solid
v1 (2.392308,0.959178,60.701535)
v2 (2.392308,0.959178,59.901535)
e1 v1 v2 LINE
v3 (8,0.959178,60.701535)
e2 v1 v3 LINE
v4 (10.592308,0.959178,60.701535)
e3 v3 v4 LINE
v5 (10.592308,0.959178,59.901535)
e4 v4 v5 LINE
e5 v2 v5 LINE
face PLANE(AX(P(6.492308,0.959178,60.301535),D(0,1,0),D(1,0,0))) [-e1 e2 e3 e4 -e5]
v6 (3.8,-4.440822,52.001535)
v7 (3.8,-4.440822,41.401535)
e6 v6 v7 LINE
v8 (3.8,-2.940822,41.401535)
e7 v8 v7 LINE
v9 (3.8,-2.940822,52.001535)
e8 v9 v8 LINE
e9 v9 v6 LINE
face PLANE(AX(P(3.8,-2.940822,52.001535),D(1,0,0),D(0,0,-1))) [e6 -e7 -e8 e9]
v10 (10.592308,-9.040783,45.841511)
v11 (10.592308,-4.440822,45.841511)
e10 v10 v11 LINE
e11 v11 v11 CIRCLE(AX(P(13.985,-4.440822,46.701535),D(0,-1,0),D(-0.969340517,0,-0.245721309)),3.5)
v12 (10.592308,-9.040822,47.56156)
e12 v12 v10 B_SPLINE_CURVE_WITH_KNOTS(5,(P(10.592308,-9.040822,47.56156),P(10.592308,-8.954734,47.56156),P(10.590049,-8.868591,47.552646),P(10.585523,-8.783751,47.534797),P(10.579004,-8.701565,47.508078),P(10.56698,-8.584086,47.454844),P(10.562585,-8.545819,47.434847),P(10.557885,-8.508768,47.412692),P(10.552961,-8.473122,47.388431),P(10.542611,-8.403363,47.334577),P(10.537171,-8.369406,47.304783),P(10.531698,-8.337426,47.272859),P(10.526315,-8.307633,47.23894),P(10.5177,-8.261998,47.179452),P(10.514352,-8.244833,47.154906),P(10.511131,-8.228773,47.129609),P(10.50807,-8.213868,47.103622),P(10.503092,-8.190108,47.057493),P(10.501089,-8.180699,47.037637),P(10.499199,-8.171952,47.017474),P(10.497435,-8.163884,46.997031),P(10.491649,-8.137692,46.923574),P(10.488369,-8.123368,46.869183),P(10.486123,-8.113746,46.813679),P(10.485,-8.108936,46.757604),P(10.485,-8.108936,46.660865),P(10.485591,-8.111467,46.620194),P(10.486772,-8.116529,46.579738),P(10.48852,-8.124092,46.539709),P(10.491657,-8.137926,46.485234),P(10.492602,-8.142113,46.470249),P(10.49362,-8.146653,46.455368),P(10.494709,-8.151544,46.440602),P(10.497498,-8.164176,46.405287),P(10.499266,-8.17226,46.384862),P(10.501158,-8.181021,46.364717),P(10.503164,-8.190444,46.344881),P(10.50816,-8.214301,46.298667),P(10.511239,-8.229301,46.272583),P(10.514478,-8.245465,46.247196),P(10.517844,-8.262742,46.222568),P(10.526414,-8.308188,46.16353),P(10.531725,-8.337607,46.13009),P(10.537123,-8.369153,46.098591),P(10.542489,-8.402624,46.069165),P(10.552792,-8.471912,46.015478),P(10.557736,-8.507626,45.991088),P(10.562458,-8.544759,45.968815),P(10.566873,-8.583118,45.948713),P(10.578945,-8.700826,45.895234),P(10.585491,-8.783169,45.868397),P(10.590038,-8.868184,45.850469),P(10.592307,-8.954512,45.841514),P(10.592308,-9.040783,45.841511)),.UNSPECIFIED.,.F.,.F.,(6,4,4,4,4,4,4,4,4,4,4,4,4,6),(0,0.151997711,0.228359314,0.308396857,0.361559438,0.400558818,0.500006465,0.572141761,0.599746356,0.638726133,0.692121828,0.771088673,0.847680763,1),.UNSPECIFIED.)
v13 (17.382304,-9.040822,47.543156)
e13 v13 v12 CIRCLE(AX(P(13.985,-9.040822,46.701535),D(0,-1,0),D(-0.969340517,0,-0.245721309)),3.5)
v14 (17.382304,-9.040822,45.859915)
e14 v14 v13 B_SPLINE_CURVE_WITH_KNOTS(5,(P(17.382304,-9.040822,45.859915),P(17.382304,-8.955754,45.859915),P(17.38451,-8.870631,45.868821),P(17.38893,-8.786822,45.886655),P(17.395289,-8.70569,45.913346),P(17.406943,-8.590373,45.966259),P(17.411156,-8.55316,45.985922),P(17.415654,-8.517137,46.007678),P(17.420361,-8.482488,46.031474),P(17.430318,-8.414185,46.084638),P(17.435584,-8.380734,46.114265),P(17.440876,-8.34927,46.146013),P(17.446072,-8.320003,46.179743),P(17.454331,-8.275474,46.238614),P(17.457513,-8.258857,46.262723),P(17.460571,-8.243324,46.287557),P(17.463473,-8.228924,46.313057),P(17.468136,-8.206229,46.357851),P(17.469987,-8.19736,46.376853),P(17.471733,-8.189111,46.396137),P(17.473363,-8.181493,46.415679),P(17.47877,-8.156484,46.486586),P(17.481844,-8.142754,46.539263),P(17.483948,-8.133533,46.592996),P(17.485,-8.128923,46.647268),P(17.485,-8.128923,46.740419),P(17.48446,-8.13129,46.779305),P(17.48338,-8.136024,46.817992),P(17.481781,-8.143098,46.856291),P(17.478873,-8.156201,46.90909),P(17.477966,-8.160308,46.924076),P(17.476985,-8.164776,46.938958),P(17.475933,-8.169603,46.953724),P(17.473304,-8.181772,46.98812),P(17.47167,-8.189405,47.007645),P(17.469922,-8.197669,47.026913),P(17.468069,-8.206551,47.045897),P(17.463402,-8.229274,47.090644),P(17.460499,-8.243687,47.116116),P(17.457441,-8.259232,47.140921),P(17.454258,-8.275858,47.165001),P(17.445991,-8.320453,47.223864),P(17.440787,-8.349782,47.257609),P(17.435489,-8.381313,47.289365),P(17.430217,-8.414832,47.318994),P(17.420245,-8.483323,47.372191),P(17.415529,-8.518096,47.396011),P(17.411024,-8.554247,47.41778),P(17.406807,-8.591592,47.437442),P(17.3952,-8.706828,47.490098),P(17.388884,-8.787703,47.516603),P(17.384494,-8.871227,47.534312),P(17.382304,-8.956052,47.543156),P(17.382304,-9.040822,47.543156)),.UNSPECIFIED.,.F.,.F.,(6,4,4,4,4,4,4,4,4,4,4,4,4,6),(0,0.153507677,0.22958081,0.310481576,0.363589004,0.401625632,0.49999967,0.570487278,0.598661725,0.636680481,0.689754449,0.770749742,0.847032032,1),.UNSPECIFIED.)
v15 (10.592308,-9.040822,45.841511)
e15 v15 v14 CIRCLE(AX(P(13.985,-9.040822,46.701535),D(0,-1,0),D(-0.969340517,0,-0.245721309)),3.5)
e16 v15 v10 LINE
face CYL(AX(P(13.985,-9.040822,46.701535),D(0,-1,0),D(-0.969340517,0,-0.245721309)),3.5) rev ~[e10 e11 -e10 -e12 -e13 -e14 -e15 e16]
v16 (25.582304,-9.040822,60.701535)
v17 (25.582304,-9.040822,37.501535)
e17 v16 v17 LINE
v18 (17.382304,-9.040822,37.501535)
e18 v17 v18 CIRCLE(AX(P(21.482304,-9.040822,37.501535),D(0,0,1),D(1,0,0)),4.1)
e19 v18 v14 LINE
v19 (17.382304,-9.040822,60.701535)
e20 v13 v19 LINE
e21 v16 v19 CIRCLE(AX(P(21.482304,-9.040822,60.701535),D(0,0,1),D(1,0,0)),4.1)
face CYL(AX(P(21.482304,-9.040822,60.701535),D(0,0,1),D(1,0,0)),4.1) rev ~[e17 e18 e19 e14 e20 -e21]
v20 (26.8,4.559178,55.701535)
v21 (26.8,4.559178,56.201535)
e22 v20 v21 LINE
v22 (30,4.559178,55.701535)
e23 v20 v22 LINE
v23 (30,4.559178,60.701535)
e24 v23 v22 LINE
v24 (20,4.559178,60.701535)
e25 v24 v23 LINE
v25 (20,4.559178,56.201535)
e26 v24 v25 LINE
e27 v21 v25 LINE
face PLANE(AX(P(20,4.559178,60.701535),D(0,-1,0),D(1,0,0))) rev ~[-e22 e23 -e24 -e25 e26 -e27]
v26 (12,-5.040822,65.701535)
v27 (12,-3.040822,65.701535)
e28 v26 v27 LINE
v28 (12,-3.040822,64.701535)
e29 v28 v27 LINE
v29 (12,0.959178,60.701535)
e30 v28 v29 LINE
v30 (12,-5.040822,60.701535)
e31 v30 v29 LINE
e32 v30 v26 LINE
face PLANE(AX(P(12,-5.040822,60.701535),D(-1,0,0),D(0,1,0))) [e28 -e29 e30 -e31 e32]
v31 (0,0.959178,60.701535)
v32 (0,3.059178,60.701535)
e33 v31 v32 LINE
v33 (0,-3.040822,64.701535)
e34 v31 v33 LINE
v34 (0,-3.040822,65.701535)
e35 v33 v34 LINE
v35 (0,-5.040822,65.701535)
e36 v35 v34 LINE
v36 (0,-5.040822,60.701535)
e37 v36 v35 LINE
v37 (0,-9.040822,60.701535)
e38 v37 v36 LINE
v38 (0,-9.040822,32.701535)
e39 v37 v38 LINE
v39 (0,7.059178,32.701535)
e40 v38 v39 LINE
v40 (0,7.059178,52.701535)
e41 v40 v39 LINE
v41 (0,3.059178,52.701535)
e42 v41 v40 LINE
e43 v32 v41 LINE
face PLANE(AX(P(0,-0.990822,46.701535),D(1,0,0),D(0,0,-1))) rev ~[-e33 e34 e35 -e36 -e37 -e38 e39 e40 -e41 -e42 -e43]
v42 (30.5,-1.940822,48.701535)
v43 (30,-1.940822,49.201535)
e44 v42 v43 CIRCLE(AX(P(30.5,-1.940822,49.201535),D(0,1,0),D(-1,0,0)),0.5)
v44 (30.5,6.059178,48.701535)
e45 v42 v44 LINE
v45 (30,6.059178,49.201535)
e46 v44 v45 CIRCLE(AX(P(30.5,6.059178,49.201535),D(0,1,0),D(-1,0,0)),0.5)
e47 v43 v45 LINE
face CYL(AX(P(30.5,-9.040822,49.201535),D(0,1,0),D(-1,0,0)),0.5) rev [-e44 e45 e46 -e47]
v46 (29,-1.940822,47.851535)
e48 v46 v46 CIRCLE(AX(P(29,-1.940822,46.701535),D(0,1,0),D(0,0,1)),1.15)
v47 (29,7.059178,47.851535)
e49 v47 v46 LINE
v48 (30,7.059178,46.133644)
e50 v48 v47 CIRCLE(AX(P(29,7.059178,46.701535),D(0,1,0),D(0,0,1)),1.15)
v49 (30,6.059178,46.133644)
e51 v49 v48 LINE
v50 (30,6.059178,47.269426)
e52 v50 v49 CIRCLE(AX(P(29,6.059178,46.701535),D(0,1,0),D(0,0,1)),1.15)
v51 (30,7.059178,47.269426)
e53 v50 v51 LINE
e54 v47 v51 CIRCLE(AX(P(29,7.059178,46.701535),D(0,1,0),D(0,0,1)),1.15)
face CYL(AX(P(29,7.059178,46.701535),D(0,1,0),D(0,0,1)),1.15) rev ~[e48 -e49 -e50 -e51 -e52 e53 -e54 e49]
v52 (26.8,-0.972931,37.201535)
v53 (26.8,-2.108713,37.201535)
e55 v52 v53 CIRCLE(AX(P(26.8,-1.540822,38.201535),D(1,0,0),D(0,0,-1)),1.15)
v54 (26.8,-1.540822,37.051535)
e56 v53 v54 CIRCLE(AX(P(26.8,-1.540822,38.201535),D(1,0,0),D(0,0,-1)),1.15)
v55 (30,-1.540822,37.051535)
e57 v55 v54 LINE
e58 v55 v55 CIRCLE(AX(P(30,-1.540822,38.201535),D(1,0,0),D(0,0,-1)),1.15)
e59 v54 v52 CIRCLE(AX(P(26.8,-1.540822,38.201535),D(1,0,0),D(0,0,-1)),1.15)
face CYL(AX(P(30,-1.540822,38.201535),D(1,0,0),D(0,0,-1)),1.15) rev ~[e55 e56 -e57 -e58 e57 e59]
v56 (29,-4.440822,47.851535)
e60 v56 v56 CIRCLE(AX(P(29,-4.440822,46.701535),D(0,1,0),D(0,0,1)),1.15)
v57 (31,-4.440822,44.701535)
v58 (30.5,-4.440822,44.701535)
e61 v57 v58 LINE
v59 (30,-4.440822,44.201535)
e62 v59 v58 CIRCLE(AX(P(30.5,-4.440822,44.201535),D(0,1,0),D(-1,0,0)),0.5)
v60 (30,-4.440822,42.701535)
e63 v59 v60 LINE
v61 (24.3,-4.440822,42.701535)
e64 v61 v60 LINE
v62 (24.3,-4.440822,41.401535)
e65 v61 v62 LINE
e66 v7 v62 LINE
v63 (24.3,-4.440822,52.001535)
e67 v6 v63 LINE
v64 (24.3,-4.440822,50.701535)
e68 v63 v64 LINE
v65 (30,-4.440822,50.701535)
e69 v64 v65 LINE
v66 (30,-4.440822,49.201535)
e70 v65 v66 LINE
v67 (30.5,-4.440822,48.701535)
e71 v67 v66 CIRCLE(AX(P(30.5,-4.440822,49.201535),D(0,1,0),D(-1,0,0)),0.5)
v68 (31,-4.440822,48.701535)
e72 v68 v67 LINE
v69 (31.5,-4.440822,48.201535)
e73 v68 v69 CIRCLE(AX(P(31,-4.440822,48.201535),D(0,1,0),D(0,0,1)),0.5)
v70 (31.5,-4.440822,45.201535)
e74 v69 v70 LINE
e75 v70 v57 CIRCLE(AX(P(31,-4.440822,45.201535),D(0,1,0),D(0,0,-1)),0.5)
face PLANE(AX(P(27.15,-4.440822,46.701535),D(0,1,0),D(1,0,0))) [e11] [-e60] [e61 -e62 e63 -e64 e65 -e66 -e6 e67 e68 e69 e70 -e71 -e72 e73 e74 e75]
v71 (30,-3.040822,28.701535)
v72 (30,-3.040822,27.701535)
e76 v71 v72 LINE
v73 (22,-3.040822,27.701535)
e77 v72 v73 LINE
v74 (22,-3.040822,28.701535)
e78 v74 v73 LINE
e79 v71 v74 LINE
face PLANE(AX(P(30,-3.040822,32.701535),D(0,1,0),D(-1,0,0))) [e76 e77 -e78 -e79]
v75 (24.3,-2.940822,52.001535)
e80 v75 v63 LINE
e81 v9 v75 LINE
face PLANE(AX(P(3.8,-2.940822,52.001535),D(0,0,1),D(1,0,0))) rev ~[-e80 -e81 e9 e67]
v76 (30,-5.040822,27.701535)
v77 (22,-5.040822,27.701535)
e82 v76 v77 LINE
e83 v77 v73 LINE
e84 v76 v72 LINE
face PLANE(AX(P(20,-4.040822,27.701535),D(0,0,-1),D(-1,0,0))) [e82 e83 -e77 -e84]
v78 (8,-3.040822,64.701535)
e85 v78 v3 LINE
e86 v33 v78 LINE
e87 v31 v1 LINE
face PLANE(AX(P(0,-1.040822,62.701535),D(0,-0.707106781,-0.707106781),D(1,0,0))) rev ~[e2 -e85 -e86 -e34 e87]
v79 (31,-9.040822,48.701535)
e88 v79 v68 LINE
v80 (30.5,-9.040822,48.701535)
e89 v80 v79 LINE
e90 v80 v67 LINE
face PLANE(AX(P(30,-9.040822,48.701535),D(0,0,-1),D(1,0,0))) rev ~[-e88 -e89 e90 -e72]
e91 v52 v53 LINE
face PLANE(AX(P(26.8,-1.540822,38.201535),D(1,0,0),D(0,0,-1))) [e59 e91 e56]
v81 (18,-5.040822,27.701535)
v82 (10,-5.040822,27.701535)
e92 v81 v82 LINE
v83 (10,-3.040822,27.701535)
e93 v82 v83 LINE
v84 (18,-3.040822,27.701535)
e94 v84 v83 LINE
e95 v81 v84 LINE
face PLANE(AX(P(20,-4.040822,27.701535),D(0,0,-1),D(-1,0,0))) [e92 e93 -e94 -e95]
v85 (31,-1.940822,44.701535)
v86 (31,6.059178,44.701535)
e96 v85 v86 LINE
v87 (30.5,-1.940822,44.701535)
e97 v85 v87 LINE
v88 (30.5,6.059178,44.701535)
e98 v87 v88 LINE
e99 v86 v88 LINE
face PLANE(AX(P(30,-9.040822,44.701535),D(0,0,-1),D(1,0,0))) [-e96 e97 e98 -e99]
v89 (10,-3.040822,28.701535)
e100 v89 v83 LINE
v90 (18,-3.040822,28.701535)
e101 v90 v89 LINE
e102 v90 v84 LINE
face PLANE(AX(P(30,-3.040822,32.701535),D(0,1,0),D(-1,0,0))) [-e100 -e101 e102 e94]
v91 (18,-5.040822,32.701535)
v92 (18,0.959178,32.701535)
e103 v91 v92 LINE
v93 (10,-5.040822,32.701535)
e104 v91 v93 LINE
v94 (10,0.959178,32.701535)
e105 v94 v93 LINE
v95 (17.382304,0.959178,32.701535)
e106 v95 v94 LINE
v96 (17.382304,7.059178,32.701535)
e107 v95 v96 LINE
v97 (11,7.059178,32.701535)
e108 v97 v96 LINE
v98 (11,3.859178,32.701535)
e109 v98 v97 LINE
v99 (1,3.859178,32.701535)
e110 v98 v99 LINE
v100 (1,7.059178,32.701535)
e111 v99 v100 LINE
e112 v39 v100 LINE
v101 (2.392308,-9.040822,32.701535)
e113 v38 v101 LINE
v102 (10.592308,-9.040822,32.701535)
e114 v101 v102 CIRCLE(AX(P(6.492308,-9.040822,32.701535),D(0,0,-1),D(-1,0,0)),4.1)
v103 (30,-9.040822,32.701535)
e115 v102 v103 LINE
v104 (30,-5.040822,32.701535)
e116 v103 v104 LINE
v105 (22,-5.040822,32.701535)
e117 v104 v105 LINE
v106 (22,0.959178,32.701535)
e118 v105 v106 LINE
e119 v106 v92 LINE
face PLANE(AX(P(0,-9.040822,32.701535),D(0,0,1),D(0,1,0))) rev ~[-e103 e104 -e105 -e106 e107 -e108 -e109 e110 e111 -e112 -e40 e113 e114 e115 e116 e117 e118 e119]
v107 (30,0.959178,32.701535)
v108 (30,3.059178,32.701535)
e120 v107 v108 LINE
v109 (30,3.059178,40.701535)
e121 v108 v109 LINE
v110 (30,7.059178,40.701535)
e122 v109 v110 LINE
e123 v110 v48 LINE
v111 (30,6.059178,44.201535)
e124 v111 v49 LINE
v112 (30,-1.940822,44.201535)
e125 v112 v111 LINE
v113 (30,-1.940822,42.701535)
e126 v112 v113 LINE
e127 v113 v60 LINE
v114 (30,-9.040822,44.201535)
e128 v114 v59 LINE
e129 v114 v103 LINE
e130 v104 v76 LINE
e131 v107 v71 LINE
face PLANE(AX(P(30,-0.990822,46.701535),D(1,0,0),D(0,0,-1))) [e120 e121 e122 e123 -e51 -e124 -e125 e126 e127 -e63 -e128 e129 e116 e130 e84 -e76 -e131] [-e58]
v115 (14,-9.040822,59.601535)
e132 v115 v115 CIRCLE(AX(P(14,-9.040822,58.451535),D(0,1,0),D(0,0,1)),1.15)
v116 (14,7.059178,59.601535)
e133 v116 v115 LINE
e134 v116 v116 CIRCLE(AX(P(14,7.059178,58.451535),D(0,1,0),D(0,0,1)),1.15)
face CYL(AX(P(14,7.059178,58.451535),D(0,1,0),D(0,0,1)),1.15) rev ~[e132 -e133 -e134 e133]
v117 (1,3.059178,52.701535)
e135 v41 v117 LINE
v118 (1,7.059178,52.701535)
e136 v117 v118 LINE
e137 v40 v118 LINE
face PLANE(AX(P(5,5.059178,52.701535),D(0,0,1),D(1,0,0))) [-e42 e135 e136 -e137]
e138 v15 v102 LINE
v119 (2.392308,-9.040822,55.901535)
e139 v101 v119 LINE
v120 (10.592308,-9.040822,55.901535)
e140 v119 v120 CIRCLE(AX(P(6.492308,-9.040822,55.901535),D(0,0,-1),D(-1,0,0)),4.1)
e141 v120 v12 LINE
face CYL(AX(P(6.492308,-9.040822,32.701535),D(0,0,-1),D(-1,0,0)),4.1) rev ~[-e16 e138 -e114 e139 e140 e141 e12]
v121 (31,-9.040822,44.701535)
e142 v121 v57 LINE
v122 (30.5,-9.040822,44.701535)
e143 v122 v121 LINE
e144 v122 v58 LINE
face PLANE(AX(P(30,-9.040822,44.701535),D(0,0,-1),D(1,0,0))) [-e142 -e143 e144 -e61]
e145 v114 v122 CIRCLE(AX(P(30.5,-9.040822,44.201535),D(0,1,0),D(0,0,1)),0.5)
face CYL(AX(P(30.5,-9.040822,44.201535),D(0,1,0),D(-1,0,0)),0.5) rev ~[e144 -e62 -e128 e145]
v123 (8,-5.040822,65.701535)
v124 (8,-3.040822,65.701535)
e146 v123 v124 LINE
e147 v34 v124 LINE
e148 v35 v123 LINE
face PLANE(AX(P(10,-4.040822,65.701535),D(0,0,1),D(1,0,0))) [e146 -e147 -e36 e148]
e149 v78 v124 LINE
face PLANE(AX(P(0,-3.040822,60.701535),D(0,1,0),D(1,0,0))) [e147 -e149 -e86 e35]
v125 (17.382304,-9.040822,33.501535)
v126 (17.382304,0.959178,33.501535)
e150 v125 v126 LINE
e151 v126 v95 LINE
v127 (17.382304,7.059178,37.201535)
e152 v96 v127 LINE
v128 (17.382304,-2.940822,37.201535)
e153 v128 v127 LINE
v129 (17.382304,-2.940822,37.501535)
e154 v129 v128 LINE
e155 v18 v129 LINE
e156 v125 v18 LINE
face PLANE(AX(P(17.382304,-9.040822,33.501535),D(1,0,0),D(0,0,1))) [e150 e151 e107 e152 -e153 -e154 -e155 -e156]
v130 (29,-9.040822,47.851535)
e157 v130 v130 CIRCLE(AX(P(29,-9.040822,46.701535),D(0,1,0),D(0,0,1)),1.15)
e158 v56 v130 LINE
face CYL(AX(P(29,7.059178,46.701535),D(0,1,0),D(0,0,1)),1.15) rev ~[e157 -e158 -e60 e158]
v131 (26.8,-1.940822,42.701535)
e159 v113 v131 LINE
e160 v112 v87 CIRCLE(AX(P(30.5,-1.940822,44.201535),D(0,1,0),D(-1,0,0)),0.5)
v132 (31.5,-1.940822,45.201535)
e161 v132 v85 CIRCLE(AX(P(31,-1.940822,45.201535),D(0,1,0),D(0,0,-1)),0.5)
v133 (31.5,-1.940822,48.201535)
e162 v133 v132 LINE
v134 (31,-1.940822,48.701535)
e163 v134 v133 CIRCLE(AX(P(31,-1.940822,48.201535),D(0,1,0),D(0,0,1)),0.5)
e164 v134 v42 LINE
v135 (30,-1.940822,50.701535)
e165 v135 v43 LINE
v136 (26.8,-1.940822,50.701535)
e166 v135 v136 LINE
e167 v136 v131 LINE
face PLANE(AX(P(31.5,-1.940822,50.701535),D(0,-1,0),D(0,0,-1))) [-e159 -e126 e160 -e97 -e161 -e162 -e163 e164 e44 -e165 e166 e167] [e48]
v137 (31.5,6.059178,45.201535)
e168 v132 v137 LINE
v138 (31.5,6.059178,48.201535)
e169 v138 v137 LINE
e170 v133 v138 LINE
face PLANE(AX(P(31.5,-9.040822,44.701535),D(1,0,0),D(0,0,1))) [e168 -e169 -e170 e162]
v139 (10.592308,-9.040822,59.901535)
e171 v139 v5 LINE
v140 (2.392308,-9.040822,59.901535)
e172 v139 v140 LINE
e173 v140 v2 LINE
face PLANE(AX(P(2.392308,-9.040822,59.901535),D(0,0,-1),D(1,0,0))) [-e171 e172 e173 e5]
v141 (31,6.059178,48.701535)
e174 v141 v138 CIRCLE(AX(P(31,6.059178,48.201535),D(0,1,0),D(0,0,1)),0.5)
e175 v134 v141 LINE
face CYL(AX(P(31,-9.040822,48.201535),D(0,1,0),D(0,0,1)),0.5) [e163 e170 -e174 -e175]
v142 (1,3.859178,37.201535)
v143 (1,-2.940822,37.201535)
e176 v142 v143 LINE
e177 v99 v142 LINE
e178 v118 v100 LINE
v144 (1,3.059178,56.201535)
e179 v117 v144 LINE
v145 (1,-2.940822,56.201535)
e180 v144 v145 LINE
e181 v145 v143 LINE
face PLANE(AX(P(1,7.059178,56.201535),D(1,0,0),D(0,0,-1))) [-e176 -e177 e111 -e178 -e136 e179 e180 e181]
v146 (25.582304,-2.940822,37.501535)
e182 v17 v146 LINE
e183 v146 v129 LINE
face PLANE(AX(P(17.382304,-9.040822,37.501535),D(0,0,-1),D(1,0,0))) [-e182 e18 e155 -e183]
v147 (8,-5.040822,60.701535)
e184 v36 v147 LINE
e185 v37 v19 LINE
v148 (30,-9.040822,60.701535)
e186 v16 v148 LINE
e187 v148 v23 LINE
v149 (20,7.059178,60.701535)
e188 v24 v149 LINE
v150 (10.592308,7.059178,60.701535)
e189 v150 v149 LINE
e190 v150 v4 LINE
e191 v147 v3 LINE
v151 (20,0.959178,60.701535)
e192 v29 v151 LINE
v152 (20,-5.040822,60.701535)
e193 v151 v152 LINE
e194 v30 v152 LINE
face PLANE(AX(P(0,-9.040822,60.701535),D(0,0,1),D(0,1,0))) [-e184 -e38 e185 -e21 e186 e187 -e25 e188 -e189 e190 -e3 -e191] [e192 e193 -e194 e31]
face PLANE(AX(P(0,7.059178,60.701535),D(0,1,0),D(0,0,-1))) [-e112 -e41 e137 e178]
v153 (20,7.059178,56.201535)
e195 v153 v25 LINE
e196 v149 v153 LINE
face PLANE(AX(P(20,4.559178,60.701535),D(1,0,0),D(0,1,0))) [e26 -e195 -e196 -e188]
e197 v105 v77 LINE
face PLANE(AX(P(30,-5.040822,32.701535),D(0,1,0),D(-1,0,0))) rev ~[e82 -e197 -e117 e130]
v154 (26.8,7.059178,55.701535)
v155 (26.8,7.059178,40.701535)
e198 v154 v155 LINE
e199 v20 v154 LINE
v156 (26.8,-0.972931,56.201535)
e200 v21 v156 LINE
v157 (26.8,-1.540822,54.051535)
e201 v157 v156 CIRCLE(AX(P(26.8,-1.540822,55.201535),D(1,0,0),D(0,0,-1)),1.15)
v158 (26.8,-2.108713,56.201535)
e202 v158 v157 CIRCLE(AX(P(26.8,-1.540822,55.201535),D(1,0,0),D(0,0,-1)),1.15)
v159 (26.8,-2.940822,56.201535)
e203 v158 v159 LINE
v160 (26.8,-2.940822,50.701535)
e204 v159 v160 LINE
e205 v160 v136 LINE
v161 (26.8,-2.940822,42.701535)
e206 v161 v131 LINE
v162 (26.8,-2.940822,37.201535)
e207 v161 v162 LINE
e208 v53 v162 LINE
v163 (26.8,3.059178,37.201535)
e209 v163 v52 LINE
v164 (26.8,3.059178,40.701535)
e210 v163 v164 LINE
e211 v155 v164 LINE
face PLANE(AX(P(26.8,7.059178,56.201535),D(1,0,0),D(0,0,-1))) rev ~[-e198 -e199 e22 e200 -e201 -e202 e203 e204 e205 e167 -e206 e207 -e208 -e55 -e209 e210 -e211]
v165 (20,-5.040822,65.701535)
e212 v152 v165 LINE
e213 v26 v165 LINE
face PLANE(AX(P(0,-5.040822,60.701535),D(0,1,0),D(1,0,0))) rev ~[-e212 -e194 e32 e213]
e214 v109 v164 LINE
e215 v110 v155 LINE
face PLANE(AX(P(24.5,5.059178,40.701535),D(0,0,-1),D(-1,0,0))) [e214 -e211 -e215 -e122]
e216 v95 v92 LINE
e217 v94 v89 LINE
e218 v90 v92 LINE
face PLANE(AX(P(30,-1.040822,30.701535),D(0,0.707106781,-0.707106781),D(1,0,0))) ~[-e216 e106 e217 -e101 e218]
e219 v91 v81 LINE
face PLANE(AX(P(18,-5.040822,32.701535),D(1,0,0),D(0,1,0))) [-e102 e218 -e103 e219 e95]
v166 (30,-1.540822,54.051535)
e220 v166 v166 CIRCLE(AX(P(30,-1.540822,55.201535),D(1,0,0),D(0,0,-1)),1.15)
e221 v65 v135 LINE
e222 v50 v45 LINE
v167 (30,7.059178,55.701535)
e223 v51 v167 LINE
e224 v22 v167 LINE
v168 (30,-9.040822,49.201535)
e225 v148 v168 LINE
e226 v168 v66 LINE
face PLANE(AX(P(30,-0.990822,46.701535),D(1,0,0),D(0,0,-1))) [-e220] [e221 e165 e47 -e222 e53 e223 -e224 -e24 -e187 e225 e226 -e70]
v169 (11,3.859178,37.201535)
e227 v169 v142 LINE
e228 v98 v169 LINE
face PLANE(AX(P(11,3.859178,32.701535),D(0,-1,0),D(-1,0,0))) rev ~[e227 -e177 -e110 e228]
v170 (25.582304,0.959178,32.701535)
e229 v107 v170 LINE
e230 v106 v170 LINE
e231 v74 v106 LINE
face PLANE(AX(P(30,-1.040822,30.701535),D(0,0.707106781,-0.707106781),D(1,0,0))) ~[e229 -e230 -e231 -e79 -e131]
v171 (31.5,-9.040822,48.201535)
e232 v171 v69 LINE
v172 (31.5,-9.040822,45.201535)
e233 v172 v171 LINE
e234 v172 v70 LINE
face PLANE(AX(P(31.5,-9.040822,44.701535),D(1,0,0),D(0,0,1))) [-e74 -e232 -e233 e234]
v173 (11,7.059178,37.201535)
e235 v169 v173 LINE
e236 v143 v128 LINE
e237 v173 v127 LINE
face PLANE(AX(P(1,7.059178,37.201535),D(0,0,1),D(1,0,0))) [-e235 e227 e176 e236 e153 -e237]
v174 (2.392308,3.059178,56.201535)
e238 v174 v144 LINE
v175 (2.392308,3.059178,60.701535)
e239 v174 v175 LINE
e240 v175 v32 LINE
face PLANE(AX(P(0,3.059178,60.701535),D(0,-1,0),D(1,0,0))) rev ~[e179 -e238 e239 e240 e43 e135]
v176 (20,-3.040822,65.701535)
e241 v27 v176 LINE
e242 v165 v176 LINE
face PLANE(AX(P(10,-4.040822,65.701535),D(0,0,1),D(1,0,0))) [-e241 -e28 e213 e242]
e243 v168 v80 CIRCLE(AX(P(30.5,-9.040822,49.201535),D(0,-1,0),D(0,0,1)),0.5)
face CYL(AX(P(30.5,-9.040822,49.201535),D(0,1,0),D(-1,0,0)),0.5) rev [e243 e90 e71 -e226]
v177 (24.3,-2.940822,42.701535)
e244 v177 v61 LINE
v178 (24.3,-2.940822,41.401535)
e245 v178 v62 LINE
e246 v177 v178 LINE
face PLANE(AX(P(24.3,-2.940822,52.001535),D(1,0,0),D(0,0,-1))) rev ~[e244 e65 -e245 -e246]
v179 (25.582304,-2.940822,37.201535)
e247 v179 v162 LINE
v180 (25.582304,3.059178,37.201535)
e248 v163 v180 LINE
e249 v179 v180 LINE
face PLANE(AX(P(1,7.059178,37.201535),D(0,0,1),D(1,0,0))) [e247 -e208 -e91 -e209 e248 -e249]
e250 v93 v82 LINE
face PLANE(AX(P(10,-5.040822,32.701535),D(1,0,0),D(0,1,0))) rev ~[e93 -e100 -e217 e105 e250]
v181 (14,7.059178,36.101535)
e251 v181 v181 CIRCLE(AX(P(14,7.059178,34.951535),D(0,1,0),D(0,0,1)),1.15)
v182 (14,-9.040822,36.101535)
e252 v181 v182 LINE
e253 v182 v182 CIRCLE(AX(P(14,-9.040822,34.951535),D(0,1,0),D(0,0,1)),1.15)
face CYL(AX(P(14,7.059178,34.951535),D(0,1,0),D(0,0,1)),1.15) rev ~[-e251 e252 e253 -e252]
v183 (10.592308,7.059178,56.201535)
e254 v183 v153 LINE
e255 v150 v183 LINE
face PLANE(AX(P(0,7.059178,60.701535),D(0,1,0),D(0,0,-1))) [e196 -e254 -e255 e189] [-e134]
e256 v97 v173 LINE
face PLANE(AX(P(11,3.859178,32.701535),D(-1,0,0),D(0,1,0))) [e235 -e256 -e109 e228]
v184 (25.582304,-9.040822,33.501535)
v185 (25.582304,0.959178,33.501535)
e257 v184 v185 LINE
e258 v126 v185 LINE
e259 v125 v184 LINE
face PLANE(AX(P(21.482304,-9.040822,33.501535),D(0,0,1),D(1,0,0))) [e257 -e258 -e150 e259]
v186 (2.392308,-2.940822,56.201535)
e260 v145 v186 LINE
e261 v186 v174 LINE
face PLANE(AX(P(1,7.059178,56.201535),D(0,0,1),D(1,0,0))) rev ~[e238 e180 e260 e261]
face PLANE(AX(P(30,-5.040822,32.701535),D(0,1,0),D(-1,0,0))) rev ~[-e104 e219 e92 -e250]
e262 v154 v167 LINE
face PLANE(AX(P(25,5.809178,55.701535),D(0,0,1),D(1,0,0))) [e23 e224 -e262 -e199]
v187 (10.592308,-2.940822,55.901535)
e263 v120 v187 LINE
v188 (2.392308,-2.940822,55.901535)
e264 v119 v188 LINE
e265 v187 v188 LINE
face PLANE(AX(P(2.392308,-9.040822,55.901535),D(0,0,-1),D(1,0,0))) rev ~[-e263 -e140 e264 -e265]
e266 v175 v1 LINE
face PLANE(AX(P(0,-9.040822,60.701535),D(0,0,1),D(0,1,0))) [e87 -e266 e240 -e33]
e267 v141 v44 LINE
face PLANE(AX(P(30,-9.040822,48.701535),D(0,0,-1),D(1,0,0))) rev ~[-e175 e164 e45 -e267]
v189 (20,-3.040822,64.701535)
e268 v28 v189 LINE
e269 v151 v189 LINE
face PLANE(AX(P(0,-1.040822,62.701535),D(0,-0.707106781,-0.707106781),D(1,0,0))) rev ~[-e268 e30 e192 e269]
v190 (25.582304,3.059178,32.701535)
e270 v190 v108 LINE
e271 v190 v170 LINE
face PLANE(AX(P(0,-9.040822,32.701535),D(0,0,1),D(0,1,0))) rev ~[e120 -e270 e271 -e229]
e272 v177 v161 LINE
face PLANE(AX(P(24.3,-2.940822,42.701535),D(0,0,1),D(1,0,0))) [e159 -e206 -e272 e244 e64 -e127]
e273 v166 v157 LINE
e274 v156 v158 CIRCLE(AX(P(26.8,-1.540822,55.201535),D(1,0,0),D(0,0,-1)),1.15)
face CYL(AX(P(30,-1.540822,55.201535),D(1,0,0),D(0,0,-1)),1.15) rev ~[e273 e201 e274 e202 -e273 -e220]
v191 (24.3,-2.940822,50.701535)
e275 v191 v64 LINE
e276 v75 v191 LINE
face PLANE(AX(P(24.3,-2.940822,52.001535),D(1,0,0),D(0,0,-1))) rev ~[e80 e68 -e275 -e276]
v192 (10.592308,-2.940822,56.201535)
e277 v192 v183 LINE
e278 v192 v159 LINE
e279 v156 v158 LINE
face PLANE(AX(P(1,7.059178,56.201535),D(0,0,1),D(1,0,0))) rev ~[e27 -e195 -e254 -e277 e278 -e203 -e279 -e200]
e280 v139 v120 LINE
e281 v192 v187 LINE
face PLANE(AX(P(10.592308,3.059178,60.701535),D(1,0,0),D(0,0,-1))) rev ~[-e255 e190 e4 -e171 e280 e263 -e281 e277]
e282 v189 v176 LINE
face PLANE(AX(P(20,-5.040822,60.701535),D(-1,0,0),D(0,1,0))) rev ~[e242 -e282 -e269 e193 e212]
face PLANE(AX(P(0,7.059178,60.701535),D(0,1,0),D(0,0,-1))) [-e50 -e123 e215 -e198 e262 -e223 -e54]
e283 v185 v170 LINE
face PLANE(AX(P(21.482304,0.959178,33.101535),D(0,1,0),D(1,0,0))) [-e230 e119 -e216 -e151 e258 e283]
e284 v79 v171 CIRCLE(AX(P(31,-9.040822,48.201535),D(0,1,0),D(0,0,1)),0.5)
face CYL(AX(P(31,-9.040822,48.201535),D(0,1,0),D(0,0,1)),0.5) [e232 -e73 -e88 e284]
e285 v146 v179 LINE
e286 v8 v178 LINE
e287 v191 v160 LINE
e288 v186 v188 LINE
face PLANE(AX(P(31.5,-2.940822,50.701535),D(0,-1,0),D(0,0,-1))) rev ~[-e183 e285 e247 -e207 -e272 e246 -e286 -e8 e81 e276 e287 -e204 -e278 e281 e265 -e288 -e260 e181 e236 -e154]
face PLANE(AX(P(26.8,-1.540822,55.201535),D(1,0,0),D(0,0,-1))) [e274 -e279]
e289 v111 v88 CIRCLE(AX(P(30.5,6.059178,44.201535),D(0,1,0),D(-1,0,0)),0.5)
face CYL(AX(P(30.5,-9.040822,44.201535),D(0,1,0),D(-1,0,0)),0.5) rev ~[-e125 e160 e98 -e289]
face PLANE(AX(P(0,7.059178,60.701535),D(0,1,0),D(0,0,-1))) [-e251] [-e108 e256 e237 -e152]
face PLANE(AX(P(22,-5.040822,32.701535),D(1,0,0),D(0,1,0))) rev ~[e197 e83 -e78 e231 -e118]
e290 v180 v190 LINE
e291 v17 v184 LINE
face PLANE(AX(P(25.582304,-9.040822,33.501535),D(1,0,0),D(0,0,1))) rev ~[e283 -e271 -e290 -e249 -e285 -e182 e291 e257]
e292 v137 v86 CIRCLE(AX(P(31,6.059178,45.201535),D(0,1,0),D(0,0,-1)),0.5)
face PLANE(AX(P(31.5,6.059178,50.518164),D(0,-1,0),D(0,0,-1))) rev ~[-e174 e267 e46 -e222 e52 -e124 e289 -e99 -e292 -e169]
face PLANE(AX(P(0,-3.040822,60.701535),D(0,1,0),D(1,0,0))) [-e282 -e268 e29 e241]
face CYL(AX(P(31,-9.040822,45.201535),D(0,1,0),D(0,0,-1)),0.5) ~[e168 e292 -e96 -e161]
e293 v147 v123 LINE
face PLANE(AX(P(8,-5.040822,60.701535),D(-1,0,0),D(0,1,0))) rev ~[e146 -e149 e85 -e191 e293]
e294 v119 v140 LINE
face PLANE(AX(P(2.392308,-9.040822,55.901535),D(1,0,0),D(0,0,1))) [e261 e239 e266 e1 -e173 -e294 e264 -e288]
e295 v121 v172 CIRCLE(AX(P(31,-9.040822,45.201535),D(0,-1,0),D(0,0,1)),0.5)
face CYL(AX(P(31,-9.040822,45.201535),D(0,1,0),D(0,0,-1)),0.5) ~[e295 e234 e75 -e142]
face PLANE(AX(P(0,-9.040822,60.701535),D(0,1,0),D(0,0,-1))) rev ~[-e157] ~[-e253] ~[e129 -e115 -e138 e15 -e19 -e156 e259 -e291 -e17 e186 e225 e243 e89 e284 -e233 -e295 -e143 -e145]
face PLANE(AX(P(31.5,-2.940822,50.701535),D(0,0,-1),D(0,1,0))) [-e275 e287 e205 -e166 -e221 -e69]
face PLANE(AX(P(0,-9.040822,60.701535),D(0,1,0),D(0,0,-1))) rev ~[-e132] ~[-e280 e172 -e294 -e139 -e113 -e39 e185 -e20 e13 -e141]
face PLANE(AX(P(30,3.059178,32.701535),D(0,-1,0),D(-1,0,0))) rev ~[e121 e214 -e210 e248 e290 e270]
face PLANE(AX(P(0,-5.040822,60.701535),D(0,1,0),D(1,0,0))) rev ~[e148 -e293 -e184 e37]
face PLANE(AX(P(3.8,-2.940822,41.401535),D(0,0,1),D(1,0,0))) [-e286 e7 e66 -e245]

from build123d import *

# Parameters (mm, degrees)
SKETCH1_W           = 28
SKETCH1_H           = 16.1
BOSS_EXTRUDE1_DEPTH = 30
SKETCH2_W           = 10
SKETCH2_H           = 2.5
CUT_EXTRUDE1_DEPTH  = 5
SKETCH3_W           = 10
SKETCH3_H           = 4
CUT_EXTRUDE2_DEPTH  = 8
SKETCH4_W           = 10
SKETCH4_H           = 3.2
CUT_EXTRUDE3_DEPTH  = 8
SKETCH5_W           = 11
SKETCH5_H           = 4
CUT_EXTRUDE4_DEPTH  = 8
SKETCH6_W           = 20
SKETCH6_H           = 2
BOSS_EXTRUDE2_DEPTH = 5
CHAMFER1_SIZE       = 4
SKETCH7_W           = 20
SKETCH7_H           = 2
BOSS_EXTRUDE3_DEPTH = 5
CHAMFER2_SIZE       = 4
SKETCH9_W           = 25.8
SKETCH9_H           = 19
CUT_EXTRUDE6_DEPTH  = 10
SKETCH13_R          = 4.1
CUT_EXTRUDE10_DEPTH = 27.2
SKETCH14_R          = 4.1
CUT_EXTRUDE11_DEPTH = 27.2
SKETCH15_W          = 8.2
SKETCH15_H          = 4
CUT_EXTRUDE12_DEPTH = 27.2
SKETCH16_W          = 0.59230819
SKETCH16_H          = 0.8
SKETCH16_W_2        = 1.617695922
CUT_EXTRUDE13_DEPTH = 4
SKETCH17_W          = 1.5
SKETCH17_H          = 4
BOSS_EXTRUDE4_DEPTH = 16.1
FILLET1_R           = 0.5
SKETCH18_R          = 3.5
CUT_EXTRUDE14_DEPTH = 6.1
SKETCH19_W          = 8
SKETCH19_H          = 1
CUT_EXTRUDE15_DEPTH = 10
SKETCH20_W          = 20.5
SKETCH20_H          = 10.6
CUT_EXTRUDE16_DEPTH = 1.5
SKETCH21_W          = 5.7
SKETCH21_H          = 8
CUT_EXTRUDE17_DEPTH = 1.5
SKETCH22_W          = 8
SKETCH22_H          = 2.5
CUT_EXTRUDE18_DEPTH = 1.5
SKETCH23_R          = 1.15
CUT_EXTRUDE19_DEPTH = 75.620049118
SKETCH24_W          = 8.2
SKETCH24_H          = 0.8
CUT_EXTRUDE20_DEPTH = 2.1
CUT_EXTRUDE21_REACH = 75.421
SKETCH25_W          = 7.929527271
SKETCH25_H          = 1
CUT_EXTRUDE22_START = -5
SKETCH26_W          = 4
SKETCH26_H          = 6
CUT_EXTRUDE22_DEPTH = 5
CUT_EXTRUDE23_START = -5
SKETCH27_W          = 4
SKETCH27_H          = 6
CUT_EXTRUDE23_DEPTH = 5
SKETCH28_R          = 1.15
CUT_EXTRUDE24_DEPTH = 3.2


with BuildPart() as part:
    # Sketch1 → Boss-Extrude1 (new body)
    with BuildSketch(Plane(origin=(0, 0, 0), x_dir=(0, 0, -1), z_dir=(1, 0, 0))):
        with Locations((-46.701535197, -0.990821865)):
            Rectangle(SKETCH1_W, SKETCH1_H)
    extrude(amount=BOSS_EXTRUDE1_DEPTH)

    # Sketch2 → Cut-Extrude1 (cut)
    with BuildSketch(Plane.XY.offset(60.701535197)):
        with Locations((25, 5.809178135)):
            Rectangle(SKETCH2_W, SKETCH2_H)
    extrude(amount=-CUT_EXTRUDE1_DEPTH, mode=Mode.SUBTRACT)

    # Sketch3 → Cut-Extrude2 (cut)
    with BuildSketch(Plane.XY.offset(60.701535197)):
        with Locations((5, 5.059178135)):
            Rectangle(SKETCH3_W, SKETCH3_H)
    extrude(amount=-CUT_EXTRUDE2_DEPTH, mode=Mode.SUBTRACT)

    # Sketch4 → Cut-Extrude3 (cut)
    with BuildSketch(Plane(origin=(0, 0, 32.701535197), x_dir=(-1, 0, 0), z_dir=(0, 0, -1))):
        with Locations((-6, 5.459178135)):
            Rectangle(SKETCH4_W, SKETCH4_H)
    extrude(amount=-CUT_EXTRUDE3_DEPTH, mode=Mode.SUBTRACT)

    # Sketch5 → Cut-Extrude4 (cut)
    with BuildSketch(Plane(origin=(0, 0, 32.701535197), x_dir=(-1, 0, 0), z_dir=(0, 0, -1))):
        with Locations((-24.5, 5.059178135)):
            Rectangle(SKETCH5_W, SKETCH5_H)
    extrude(amount=-CUT_EXTRUDE4_DEPTH, mode=Mode.SUBTRACT)

    # Sketch6 → Boss-Extrude2 (add)
    with BuildSketch(Plane(origin=(0, 0, 32.701535197), x_dir=(-1, 0, 0), z_dir=(0, 0, -1))):
        with Locations((-20, -4.040821865)):
            Rectangle(SKETCH6_W, SKETCH6_H)
    extrude(amount=BOSS_EXTRUDE2_DEPTH)

    # Chamfer1
    chamfer1_edges = [part.edges().sort_by_distance(p)[0] for p in [
        (20, -3.040821865, 32.701535197),
    ]]
    chamfer(chamfer1_edges, length=CHAMFER1_SIZE)

    # Sketch7 → Boss-Extrude3 (add)
    with BuildSketch(Plane.XY.offset(60.701535197)):
        with Locations((10, -4.040821865)):
            Rectangle(SKETCH7_W, SKETCH7_H)
    extrude(amount=BOSS_EXTRUDE3_DEPTH)

    # Chamfer2
    chamfer2_edges = [part.edges().sort_by_distance(p)[0] for p in [
        (10, -3.040821865, 60.701535197),
    ]]
    chamfer(chamfer2_edges, length=CHAMFER2_SIZE)

    # Sketch9 → Cut-Extrude6 (cut)
    with BuildSketch(Plane(origin=(0, 7.059178135, 0), x_dir=(1, 0, 0), z_dir=(0, 1, 0))):
        with Locations((13.9, -46.701535197)):
            Rectangle(SKETCH9_W, SKETCH9_H)
    extrude(amount=-CUT_EXTRUDE6_DEPTH, mode=Mode.SUBTRACT)

    # Sketch13 → Cut-Extrude10 (cut)
    with BuildSketch(Plane.XY.offset(60.701535197)):
        with Locations((21.482304078, -9.040821865)):
            Circle(SKETCH13_R)
    extrude(amount=-CUT_EXTRUDE10_DEPTH, mode=Mode.SUBTRACT)

    # Sketch14 → Cut-Extrude11 (cut)
    with BuildSketch(Plane(origin=(0, 0, 32.701535197), x_dir=(-1, 0, 0), z_dir=(0, 0, -1))):
        with Locations((-6.49230819, -9.040821865)):
            Circle(SKETCH14_R)
    extrude(amount=-CUT_EXTRUDE11_DEPTH, mode=Mode.SUBTRACT)

    # Sketch15 → Cut-Extrude12 (cut)
    with BuildSketch(Plane.XZ.offset(9.040821865)):
        with Locations((6.49230819, 57.901535197)):
            Rectangle(SKETCH15_W, SKETCH15_H)
        with Locations((21.482304078, 35.501535197)):
            Rectangle(SKETCH15_W, SKETCH15_H)
    extrude(amount=-CUT_EXTRUDE12_DEPTH, mode=Mode.SUBTRACT)

    # Sketch16 → Cut-Extrude13 (cut)
    with BuildSketch(Plane(origin=(0, 7.059178135, 0), x_dir=(1, 0, 0), z_dir=(0, 1, 0))):
        with Locations((10.296154095, -60.301535197)):
            Rectangle(SKETCH16_W, SKETCH16_H)
        with Locations((18.191152039, -33.101535197)):
            Rectangle(SKETCH16_W_2, SKETCH16_H)
    extrude(amount=-CUT_EXTRUDE13_DEPTH, mode=Mode.SUBTRACT)

    # Sketch17 → Boss-Extrude4 (add)
    with BuildSketch(Plane.XZ.offset(9.040821865)):
        with Locations((30.75, 46.701535197)):
            Rectangle(SKETCH17_W, SKETCH17_H)
    extrude(amount=-BOSS_EXTRUDE4_DEPTH)

    # Fillet1
    fillet1_edges = [part.edges().sort_by_distance(p)[0] for p in [
        (30, -0.990821865, 44.701535197),
        (30, -0.990821865, 48.701535197),
        (31.5, -0.990821865, 48.701535197),
        (31.5, -0.990821865, 44.701535197),
    ]]
    fillet(fillet1_edges, radius=FILLET1_R)

    # Sketch18 → Cut-Extrude14 (cut)
    with BuildSketch(Plane.XZ.offset(9.040821865)):
        with Locations(Location((13.985, 46.701535197, 0), (0, 0, 194.224464848))):
            Circle(SKETCH18_R)
    extrude(amount=-CUT_EXTRUDE14_DEPTH, mode=Mode.SUBTRACT)

    # Sketch19 → Cut-Extrude15 (cut)
    with BuildSketch(Plane(origin=(31.5, 0, 0), x_dir=(0, 0, -1), z_dir=(1, 0, 0))):
        with Locations((-46.701535197, -2.440821865)):
            Rectangle(SKETCH19_W, SKETCH19_H)
    extrude(amount=-CUT_EXTRUDE15_DEPTH, mode=Mode.SUBTRACT)

    # Sketch20 → Cut-Extrude16 (cut)
    with BuildSketch(Plane(origin=(0, -2.940821865, 0), x_dir=(1, 0, 0), z_dir=(0, 1, 0))):
        with Locations((14.05, -46.701535197)):
            Rectangle(SKETCH20_W, SKETCH20_H)
    extrude(amount=-CUT_EXTRUDE16_DEPTH, mode=Mode.SUBTRACT)

    # Sketch21 → Cut-Extrude17 (cut)
    with BuildSketch(Plane(origin=(0, -2.940821865, 0), x_dir=(1, 0, 0), z_dir=(0, 1, 0))):
        with Locations((27.15, -46.701535197)):
            Rectangle(SKETCH21_W, SKETCH21_H)
    extrude(amount=-CUT_EXTRUDE17_DEPTH, mode=Mode.SUBTRACT)

    # Sketch22 → Cut-Extrude18 (cut)
    with BuildSketch(Plane(origin=(31.5, 0, 0), x_dir=(0, 0, -1), z_dir=(1, 0, 0))):
        with Locations((-46.701535197, -3.190821865)):
            Rectangle(SKETCH22_W, SKETCH22_H)
    extrude(amount=-CUT_EXTRUDE18_DEPTH, mode=Mode.SUBTRACT)

    # Sketch23 → Cut-Extrude19 (cut, through all)
    with BuildSketch(Plane(origin=(0, 7.059178135, 0), x_dir=(1, 0, 0), z_dir=(0, 1, 0))):
        with Locations(Location((29, -46.701535197, 0), (0, 0, 270))):
            Circle(SKETCH23_R)
        with Locations(Location((14, -34.951535197, 0), (0, 0, 270))):
            Circle(SKETCH23_R)
        with Locations(Location((14, -58.451535197, 0), (0, 0, 270))):
            Circle(SKETCH23_R)
    extrude(amount=-CUT_EXTRUDE19_DEPTH, mode=Mode.SUBTRACT)

    # Sketch24 → Cut-Extrude20 (cut)
    with BuildSketch(Plane(origin=(0, 3.059178135, 0), x_dir=(1, 0, 0), z_dir=(0, 1, 0))):
        with Locations((21.482304078, -33.101535197)):
            Rectangle(SKETCH24_W, SKETCH24_H)
        with Locations((6.49230819, -60.301535197)):
            Rectangle(SKETCH24_W, SKETCH24_H)
    extrude(amount=-CUT_EXTRUDE20_DEPTH, mode=Mode.SUBTRACT)

    # Cut-Extrude21: up to this face of the body (flat: up to its plane)
    cut_extrude21_end = Plane(part.part.faces().sort_by_distance((30, -1.445232759, 54.822020691))[0])
    # Sketch25 → Cut-Extrude21 (cut, up to the picked face)
    with BuildSketch(Plane(origin=(31.5, 0, 0), x_dir=(0, 0, -1), z_dir=(1, 0, 0)), mode=Mode.PRIVATE) as cut_extrude21_sk1:
        with Locations((-46.553400254, 6.559178135)):
            Rectangle(SKETCH25_W, SKETCH25_H)
    cut_extrude21_tool1 = split(extrude(cut_extrude21_sk1.sketch, amount=-CUT_EXTRUDE21_REACH, mode=Mode.PRIVATE), bisect_by=cut_extrude21_end, keep=Keep.BOTH, mode=Mode.PRIVATE)
    add(cut_extrude21_tool1.solids().sort_by(Axis((31.5, 6.559178, 46.5534), (-1, 0, 0)))[0], mode=Mode.SUBTRACT)

    # Sketch26 → Cut-Extrude22 (cut)
    with BuildSketch(Plane.XY.offset(65.701535197).offset(CUT_EXTRUDE22_START)):
        with Locations((10, -2.040821865)):
            Rectangle(SKETCH26_W, SKETCH26_H)
    extrude(amount=CUT_EXTRUDE22_DEPTH, mode=Mode.SUBTRACT)

    # Sketch27 → Cut-Extrude23 (cut)
    with BuildSketch(Plane(origin=(0, 0, 27.701535197), x_dir=(-1, 0, 0), z_dir=(0, 0, -1)).offset(CUT_EXTRUDE23_START)):
        with Locations((-20, -2.040821865)):
            Rectangle(SKETCH27_W, SKETCH27_H)
    extrude(amount=CUT_EXTRUDE23_DEPTH, mode=Mode.SUBTRACT)

    # Sketch28 → Cut-Extrude24 (cut)
    with BuildSketch(Plane(origin=(30, 0, 0), x_dir=(0, 0, -1), z_dir=(1, 0, 0))):
        with Locations((-55.201535197, -1.540821865)):
            Circle(SKETCH28_R)
        with Locations((-38.201535197, -1.540821865)):
            Circle(SKETCH28_R)
    extrude(amount=-CUT_EXTRUDE24_DEPTH, mode=Mode.SUBTRACT)


solid = part.part
